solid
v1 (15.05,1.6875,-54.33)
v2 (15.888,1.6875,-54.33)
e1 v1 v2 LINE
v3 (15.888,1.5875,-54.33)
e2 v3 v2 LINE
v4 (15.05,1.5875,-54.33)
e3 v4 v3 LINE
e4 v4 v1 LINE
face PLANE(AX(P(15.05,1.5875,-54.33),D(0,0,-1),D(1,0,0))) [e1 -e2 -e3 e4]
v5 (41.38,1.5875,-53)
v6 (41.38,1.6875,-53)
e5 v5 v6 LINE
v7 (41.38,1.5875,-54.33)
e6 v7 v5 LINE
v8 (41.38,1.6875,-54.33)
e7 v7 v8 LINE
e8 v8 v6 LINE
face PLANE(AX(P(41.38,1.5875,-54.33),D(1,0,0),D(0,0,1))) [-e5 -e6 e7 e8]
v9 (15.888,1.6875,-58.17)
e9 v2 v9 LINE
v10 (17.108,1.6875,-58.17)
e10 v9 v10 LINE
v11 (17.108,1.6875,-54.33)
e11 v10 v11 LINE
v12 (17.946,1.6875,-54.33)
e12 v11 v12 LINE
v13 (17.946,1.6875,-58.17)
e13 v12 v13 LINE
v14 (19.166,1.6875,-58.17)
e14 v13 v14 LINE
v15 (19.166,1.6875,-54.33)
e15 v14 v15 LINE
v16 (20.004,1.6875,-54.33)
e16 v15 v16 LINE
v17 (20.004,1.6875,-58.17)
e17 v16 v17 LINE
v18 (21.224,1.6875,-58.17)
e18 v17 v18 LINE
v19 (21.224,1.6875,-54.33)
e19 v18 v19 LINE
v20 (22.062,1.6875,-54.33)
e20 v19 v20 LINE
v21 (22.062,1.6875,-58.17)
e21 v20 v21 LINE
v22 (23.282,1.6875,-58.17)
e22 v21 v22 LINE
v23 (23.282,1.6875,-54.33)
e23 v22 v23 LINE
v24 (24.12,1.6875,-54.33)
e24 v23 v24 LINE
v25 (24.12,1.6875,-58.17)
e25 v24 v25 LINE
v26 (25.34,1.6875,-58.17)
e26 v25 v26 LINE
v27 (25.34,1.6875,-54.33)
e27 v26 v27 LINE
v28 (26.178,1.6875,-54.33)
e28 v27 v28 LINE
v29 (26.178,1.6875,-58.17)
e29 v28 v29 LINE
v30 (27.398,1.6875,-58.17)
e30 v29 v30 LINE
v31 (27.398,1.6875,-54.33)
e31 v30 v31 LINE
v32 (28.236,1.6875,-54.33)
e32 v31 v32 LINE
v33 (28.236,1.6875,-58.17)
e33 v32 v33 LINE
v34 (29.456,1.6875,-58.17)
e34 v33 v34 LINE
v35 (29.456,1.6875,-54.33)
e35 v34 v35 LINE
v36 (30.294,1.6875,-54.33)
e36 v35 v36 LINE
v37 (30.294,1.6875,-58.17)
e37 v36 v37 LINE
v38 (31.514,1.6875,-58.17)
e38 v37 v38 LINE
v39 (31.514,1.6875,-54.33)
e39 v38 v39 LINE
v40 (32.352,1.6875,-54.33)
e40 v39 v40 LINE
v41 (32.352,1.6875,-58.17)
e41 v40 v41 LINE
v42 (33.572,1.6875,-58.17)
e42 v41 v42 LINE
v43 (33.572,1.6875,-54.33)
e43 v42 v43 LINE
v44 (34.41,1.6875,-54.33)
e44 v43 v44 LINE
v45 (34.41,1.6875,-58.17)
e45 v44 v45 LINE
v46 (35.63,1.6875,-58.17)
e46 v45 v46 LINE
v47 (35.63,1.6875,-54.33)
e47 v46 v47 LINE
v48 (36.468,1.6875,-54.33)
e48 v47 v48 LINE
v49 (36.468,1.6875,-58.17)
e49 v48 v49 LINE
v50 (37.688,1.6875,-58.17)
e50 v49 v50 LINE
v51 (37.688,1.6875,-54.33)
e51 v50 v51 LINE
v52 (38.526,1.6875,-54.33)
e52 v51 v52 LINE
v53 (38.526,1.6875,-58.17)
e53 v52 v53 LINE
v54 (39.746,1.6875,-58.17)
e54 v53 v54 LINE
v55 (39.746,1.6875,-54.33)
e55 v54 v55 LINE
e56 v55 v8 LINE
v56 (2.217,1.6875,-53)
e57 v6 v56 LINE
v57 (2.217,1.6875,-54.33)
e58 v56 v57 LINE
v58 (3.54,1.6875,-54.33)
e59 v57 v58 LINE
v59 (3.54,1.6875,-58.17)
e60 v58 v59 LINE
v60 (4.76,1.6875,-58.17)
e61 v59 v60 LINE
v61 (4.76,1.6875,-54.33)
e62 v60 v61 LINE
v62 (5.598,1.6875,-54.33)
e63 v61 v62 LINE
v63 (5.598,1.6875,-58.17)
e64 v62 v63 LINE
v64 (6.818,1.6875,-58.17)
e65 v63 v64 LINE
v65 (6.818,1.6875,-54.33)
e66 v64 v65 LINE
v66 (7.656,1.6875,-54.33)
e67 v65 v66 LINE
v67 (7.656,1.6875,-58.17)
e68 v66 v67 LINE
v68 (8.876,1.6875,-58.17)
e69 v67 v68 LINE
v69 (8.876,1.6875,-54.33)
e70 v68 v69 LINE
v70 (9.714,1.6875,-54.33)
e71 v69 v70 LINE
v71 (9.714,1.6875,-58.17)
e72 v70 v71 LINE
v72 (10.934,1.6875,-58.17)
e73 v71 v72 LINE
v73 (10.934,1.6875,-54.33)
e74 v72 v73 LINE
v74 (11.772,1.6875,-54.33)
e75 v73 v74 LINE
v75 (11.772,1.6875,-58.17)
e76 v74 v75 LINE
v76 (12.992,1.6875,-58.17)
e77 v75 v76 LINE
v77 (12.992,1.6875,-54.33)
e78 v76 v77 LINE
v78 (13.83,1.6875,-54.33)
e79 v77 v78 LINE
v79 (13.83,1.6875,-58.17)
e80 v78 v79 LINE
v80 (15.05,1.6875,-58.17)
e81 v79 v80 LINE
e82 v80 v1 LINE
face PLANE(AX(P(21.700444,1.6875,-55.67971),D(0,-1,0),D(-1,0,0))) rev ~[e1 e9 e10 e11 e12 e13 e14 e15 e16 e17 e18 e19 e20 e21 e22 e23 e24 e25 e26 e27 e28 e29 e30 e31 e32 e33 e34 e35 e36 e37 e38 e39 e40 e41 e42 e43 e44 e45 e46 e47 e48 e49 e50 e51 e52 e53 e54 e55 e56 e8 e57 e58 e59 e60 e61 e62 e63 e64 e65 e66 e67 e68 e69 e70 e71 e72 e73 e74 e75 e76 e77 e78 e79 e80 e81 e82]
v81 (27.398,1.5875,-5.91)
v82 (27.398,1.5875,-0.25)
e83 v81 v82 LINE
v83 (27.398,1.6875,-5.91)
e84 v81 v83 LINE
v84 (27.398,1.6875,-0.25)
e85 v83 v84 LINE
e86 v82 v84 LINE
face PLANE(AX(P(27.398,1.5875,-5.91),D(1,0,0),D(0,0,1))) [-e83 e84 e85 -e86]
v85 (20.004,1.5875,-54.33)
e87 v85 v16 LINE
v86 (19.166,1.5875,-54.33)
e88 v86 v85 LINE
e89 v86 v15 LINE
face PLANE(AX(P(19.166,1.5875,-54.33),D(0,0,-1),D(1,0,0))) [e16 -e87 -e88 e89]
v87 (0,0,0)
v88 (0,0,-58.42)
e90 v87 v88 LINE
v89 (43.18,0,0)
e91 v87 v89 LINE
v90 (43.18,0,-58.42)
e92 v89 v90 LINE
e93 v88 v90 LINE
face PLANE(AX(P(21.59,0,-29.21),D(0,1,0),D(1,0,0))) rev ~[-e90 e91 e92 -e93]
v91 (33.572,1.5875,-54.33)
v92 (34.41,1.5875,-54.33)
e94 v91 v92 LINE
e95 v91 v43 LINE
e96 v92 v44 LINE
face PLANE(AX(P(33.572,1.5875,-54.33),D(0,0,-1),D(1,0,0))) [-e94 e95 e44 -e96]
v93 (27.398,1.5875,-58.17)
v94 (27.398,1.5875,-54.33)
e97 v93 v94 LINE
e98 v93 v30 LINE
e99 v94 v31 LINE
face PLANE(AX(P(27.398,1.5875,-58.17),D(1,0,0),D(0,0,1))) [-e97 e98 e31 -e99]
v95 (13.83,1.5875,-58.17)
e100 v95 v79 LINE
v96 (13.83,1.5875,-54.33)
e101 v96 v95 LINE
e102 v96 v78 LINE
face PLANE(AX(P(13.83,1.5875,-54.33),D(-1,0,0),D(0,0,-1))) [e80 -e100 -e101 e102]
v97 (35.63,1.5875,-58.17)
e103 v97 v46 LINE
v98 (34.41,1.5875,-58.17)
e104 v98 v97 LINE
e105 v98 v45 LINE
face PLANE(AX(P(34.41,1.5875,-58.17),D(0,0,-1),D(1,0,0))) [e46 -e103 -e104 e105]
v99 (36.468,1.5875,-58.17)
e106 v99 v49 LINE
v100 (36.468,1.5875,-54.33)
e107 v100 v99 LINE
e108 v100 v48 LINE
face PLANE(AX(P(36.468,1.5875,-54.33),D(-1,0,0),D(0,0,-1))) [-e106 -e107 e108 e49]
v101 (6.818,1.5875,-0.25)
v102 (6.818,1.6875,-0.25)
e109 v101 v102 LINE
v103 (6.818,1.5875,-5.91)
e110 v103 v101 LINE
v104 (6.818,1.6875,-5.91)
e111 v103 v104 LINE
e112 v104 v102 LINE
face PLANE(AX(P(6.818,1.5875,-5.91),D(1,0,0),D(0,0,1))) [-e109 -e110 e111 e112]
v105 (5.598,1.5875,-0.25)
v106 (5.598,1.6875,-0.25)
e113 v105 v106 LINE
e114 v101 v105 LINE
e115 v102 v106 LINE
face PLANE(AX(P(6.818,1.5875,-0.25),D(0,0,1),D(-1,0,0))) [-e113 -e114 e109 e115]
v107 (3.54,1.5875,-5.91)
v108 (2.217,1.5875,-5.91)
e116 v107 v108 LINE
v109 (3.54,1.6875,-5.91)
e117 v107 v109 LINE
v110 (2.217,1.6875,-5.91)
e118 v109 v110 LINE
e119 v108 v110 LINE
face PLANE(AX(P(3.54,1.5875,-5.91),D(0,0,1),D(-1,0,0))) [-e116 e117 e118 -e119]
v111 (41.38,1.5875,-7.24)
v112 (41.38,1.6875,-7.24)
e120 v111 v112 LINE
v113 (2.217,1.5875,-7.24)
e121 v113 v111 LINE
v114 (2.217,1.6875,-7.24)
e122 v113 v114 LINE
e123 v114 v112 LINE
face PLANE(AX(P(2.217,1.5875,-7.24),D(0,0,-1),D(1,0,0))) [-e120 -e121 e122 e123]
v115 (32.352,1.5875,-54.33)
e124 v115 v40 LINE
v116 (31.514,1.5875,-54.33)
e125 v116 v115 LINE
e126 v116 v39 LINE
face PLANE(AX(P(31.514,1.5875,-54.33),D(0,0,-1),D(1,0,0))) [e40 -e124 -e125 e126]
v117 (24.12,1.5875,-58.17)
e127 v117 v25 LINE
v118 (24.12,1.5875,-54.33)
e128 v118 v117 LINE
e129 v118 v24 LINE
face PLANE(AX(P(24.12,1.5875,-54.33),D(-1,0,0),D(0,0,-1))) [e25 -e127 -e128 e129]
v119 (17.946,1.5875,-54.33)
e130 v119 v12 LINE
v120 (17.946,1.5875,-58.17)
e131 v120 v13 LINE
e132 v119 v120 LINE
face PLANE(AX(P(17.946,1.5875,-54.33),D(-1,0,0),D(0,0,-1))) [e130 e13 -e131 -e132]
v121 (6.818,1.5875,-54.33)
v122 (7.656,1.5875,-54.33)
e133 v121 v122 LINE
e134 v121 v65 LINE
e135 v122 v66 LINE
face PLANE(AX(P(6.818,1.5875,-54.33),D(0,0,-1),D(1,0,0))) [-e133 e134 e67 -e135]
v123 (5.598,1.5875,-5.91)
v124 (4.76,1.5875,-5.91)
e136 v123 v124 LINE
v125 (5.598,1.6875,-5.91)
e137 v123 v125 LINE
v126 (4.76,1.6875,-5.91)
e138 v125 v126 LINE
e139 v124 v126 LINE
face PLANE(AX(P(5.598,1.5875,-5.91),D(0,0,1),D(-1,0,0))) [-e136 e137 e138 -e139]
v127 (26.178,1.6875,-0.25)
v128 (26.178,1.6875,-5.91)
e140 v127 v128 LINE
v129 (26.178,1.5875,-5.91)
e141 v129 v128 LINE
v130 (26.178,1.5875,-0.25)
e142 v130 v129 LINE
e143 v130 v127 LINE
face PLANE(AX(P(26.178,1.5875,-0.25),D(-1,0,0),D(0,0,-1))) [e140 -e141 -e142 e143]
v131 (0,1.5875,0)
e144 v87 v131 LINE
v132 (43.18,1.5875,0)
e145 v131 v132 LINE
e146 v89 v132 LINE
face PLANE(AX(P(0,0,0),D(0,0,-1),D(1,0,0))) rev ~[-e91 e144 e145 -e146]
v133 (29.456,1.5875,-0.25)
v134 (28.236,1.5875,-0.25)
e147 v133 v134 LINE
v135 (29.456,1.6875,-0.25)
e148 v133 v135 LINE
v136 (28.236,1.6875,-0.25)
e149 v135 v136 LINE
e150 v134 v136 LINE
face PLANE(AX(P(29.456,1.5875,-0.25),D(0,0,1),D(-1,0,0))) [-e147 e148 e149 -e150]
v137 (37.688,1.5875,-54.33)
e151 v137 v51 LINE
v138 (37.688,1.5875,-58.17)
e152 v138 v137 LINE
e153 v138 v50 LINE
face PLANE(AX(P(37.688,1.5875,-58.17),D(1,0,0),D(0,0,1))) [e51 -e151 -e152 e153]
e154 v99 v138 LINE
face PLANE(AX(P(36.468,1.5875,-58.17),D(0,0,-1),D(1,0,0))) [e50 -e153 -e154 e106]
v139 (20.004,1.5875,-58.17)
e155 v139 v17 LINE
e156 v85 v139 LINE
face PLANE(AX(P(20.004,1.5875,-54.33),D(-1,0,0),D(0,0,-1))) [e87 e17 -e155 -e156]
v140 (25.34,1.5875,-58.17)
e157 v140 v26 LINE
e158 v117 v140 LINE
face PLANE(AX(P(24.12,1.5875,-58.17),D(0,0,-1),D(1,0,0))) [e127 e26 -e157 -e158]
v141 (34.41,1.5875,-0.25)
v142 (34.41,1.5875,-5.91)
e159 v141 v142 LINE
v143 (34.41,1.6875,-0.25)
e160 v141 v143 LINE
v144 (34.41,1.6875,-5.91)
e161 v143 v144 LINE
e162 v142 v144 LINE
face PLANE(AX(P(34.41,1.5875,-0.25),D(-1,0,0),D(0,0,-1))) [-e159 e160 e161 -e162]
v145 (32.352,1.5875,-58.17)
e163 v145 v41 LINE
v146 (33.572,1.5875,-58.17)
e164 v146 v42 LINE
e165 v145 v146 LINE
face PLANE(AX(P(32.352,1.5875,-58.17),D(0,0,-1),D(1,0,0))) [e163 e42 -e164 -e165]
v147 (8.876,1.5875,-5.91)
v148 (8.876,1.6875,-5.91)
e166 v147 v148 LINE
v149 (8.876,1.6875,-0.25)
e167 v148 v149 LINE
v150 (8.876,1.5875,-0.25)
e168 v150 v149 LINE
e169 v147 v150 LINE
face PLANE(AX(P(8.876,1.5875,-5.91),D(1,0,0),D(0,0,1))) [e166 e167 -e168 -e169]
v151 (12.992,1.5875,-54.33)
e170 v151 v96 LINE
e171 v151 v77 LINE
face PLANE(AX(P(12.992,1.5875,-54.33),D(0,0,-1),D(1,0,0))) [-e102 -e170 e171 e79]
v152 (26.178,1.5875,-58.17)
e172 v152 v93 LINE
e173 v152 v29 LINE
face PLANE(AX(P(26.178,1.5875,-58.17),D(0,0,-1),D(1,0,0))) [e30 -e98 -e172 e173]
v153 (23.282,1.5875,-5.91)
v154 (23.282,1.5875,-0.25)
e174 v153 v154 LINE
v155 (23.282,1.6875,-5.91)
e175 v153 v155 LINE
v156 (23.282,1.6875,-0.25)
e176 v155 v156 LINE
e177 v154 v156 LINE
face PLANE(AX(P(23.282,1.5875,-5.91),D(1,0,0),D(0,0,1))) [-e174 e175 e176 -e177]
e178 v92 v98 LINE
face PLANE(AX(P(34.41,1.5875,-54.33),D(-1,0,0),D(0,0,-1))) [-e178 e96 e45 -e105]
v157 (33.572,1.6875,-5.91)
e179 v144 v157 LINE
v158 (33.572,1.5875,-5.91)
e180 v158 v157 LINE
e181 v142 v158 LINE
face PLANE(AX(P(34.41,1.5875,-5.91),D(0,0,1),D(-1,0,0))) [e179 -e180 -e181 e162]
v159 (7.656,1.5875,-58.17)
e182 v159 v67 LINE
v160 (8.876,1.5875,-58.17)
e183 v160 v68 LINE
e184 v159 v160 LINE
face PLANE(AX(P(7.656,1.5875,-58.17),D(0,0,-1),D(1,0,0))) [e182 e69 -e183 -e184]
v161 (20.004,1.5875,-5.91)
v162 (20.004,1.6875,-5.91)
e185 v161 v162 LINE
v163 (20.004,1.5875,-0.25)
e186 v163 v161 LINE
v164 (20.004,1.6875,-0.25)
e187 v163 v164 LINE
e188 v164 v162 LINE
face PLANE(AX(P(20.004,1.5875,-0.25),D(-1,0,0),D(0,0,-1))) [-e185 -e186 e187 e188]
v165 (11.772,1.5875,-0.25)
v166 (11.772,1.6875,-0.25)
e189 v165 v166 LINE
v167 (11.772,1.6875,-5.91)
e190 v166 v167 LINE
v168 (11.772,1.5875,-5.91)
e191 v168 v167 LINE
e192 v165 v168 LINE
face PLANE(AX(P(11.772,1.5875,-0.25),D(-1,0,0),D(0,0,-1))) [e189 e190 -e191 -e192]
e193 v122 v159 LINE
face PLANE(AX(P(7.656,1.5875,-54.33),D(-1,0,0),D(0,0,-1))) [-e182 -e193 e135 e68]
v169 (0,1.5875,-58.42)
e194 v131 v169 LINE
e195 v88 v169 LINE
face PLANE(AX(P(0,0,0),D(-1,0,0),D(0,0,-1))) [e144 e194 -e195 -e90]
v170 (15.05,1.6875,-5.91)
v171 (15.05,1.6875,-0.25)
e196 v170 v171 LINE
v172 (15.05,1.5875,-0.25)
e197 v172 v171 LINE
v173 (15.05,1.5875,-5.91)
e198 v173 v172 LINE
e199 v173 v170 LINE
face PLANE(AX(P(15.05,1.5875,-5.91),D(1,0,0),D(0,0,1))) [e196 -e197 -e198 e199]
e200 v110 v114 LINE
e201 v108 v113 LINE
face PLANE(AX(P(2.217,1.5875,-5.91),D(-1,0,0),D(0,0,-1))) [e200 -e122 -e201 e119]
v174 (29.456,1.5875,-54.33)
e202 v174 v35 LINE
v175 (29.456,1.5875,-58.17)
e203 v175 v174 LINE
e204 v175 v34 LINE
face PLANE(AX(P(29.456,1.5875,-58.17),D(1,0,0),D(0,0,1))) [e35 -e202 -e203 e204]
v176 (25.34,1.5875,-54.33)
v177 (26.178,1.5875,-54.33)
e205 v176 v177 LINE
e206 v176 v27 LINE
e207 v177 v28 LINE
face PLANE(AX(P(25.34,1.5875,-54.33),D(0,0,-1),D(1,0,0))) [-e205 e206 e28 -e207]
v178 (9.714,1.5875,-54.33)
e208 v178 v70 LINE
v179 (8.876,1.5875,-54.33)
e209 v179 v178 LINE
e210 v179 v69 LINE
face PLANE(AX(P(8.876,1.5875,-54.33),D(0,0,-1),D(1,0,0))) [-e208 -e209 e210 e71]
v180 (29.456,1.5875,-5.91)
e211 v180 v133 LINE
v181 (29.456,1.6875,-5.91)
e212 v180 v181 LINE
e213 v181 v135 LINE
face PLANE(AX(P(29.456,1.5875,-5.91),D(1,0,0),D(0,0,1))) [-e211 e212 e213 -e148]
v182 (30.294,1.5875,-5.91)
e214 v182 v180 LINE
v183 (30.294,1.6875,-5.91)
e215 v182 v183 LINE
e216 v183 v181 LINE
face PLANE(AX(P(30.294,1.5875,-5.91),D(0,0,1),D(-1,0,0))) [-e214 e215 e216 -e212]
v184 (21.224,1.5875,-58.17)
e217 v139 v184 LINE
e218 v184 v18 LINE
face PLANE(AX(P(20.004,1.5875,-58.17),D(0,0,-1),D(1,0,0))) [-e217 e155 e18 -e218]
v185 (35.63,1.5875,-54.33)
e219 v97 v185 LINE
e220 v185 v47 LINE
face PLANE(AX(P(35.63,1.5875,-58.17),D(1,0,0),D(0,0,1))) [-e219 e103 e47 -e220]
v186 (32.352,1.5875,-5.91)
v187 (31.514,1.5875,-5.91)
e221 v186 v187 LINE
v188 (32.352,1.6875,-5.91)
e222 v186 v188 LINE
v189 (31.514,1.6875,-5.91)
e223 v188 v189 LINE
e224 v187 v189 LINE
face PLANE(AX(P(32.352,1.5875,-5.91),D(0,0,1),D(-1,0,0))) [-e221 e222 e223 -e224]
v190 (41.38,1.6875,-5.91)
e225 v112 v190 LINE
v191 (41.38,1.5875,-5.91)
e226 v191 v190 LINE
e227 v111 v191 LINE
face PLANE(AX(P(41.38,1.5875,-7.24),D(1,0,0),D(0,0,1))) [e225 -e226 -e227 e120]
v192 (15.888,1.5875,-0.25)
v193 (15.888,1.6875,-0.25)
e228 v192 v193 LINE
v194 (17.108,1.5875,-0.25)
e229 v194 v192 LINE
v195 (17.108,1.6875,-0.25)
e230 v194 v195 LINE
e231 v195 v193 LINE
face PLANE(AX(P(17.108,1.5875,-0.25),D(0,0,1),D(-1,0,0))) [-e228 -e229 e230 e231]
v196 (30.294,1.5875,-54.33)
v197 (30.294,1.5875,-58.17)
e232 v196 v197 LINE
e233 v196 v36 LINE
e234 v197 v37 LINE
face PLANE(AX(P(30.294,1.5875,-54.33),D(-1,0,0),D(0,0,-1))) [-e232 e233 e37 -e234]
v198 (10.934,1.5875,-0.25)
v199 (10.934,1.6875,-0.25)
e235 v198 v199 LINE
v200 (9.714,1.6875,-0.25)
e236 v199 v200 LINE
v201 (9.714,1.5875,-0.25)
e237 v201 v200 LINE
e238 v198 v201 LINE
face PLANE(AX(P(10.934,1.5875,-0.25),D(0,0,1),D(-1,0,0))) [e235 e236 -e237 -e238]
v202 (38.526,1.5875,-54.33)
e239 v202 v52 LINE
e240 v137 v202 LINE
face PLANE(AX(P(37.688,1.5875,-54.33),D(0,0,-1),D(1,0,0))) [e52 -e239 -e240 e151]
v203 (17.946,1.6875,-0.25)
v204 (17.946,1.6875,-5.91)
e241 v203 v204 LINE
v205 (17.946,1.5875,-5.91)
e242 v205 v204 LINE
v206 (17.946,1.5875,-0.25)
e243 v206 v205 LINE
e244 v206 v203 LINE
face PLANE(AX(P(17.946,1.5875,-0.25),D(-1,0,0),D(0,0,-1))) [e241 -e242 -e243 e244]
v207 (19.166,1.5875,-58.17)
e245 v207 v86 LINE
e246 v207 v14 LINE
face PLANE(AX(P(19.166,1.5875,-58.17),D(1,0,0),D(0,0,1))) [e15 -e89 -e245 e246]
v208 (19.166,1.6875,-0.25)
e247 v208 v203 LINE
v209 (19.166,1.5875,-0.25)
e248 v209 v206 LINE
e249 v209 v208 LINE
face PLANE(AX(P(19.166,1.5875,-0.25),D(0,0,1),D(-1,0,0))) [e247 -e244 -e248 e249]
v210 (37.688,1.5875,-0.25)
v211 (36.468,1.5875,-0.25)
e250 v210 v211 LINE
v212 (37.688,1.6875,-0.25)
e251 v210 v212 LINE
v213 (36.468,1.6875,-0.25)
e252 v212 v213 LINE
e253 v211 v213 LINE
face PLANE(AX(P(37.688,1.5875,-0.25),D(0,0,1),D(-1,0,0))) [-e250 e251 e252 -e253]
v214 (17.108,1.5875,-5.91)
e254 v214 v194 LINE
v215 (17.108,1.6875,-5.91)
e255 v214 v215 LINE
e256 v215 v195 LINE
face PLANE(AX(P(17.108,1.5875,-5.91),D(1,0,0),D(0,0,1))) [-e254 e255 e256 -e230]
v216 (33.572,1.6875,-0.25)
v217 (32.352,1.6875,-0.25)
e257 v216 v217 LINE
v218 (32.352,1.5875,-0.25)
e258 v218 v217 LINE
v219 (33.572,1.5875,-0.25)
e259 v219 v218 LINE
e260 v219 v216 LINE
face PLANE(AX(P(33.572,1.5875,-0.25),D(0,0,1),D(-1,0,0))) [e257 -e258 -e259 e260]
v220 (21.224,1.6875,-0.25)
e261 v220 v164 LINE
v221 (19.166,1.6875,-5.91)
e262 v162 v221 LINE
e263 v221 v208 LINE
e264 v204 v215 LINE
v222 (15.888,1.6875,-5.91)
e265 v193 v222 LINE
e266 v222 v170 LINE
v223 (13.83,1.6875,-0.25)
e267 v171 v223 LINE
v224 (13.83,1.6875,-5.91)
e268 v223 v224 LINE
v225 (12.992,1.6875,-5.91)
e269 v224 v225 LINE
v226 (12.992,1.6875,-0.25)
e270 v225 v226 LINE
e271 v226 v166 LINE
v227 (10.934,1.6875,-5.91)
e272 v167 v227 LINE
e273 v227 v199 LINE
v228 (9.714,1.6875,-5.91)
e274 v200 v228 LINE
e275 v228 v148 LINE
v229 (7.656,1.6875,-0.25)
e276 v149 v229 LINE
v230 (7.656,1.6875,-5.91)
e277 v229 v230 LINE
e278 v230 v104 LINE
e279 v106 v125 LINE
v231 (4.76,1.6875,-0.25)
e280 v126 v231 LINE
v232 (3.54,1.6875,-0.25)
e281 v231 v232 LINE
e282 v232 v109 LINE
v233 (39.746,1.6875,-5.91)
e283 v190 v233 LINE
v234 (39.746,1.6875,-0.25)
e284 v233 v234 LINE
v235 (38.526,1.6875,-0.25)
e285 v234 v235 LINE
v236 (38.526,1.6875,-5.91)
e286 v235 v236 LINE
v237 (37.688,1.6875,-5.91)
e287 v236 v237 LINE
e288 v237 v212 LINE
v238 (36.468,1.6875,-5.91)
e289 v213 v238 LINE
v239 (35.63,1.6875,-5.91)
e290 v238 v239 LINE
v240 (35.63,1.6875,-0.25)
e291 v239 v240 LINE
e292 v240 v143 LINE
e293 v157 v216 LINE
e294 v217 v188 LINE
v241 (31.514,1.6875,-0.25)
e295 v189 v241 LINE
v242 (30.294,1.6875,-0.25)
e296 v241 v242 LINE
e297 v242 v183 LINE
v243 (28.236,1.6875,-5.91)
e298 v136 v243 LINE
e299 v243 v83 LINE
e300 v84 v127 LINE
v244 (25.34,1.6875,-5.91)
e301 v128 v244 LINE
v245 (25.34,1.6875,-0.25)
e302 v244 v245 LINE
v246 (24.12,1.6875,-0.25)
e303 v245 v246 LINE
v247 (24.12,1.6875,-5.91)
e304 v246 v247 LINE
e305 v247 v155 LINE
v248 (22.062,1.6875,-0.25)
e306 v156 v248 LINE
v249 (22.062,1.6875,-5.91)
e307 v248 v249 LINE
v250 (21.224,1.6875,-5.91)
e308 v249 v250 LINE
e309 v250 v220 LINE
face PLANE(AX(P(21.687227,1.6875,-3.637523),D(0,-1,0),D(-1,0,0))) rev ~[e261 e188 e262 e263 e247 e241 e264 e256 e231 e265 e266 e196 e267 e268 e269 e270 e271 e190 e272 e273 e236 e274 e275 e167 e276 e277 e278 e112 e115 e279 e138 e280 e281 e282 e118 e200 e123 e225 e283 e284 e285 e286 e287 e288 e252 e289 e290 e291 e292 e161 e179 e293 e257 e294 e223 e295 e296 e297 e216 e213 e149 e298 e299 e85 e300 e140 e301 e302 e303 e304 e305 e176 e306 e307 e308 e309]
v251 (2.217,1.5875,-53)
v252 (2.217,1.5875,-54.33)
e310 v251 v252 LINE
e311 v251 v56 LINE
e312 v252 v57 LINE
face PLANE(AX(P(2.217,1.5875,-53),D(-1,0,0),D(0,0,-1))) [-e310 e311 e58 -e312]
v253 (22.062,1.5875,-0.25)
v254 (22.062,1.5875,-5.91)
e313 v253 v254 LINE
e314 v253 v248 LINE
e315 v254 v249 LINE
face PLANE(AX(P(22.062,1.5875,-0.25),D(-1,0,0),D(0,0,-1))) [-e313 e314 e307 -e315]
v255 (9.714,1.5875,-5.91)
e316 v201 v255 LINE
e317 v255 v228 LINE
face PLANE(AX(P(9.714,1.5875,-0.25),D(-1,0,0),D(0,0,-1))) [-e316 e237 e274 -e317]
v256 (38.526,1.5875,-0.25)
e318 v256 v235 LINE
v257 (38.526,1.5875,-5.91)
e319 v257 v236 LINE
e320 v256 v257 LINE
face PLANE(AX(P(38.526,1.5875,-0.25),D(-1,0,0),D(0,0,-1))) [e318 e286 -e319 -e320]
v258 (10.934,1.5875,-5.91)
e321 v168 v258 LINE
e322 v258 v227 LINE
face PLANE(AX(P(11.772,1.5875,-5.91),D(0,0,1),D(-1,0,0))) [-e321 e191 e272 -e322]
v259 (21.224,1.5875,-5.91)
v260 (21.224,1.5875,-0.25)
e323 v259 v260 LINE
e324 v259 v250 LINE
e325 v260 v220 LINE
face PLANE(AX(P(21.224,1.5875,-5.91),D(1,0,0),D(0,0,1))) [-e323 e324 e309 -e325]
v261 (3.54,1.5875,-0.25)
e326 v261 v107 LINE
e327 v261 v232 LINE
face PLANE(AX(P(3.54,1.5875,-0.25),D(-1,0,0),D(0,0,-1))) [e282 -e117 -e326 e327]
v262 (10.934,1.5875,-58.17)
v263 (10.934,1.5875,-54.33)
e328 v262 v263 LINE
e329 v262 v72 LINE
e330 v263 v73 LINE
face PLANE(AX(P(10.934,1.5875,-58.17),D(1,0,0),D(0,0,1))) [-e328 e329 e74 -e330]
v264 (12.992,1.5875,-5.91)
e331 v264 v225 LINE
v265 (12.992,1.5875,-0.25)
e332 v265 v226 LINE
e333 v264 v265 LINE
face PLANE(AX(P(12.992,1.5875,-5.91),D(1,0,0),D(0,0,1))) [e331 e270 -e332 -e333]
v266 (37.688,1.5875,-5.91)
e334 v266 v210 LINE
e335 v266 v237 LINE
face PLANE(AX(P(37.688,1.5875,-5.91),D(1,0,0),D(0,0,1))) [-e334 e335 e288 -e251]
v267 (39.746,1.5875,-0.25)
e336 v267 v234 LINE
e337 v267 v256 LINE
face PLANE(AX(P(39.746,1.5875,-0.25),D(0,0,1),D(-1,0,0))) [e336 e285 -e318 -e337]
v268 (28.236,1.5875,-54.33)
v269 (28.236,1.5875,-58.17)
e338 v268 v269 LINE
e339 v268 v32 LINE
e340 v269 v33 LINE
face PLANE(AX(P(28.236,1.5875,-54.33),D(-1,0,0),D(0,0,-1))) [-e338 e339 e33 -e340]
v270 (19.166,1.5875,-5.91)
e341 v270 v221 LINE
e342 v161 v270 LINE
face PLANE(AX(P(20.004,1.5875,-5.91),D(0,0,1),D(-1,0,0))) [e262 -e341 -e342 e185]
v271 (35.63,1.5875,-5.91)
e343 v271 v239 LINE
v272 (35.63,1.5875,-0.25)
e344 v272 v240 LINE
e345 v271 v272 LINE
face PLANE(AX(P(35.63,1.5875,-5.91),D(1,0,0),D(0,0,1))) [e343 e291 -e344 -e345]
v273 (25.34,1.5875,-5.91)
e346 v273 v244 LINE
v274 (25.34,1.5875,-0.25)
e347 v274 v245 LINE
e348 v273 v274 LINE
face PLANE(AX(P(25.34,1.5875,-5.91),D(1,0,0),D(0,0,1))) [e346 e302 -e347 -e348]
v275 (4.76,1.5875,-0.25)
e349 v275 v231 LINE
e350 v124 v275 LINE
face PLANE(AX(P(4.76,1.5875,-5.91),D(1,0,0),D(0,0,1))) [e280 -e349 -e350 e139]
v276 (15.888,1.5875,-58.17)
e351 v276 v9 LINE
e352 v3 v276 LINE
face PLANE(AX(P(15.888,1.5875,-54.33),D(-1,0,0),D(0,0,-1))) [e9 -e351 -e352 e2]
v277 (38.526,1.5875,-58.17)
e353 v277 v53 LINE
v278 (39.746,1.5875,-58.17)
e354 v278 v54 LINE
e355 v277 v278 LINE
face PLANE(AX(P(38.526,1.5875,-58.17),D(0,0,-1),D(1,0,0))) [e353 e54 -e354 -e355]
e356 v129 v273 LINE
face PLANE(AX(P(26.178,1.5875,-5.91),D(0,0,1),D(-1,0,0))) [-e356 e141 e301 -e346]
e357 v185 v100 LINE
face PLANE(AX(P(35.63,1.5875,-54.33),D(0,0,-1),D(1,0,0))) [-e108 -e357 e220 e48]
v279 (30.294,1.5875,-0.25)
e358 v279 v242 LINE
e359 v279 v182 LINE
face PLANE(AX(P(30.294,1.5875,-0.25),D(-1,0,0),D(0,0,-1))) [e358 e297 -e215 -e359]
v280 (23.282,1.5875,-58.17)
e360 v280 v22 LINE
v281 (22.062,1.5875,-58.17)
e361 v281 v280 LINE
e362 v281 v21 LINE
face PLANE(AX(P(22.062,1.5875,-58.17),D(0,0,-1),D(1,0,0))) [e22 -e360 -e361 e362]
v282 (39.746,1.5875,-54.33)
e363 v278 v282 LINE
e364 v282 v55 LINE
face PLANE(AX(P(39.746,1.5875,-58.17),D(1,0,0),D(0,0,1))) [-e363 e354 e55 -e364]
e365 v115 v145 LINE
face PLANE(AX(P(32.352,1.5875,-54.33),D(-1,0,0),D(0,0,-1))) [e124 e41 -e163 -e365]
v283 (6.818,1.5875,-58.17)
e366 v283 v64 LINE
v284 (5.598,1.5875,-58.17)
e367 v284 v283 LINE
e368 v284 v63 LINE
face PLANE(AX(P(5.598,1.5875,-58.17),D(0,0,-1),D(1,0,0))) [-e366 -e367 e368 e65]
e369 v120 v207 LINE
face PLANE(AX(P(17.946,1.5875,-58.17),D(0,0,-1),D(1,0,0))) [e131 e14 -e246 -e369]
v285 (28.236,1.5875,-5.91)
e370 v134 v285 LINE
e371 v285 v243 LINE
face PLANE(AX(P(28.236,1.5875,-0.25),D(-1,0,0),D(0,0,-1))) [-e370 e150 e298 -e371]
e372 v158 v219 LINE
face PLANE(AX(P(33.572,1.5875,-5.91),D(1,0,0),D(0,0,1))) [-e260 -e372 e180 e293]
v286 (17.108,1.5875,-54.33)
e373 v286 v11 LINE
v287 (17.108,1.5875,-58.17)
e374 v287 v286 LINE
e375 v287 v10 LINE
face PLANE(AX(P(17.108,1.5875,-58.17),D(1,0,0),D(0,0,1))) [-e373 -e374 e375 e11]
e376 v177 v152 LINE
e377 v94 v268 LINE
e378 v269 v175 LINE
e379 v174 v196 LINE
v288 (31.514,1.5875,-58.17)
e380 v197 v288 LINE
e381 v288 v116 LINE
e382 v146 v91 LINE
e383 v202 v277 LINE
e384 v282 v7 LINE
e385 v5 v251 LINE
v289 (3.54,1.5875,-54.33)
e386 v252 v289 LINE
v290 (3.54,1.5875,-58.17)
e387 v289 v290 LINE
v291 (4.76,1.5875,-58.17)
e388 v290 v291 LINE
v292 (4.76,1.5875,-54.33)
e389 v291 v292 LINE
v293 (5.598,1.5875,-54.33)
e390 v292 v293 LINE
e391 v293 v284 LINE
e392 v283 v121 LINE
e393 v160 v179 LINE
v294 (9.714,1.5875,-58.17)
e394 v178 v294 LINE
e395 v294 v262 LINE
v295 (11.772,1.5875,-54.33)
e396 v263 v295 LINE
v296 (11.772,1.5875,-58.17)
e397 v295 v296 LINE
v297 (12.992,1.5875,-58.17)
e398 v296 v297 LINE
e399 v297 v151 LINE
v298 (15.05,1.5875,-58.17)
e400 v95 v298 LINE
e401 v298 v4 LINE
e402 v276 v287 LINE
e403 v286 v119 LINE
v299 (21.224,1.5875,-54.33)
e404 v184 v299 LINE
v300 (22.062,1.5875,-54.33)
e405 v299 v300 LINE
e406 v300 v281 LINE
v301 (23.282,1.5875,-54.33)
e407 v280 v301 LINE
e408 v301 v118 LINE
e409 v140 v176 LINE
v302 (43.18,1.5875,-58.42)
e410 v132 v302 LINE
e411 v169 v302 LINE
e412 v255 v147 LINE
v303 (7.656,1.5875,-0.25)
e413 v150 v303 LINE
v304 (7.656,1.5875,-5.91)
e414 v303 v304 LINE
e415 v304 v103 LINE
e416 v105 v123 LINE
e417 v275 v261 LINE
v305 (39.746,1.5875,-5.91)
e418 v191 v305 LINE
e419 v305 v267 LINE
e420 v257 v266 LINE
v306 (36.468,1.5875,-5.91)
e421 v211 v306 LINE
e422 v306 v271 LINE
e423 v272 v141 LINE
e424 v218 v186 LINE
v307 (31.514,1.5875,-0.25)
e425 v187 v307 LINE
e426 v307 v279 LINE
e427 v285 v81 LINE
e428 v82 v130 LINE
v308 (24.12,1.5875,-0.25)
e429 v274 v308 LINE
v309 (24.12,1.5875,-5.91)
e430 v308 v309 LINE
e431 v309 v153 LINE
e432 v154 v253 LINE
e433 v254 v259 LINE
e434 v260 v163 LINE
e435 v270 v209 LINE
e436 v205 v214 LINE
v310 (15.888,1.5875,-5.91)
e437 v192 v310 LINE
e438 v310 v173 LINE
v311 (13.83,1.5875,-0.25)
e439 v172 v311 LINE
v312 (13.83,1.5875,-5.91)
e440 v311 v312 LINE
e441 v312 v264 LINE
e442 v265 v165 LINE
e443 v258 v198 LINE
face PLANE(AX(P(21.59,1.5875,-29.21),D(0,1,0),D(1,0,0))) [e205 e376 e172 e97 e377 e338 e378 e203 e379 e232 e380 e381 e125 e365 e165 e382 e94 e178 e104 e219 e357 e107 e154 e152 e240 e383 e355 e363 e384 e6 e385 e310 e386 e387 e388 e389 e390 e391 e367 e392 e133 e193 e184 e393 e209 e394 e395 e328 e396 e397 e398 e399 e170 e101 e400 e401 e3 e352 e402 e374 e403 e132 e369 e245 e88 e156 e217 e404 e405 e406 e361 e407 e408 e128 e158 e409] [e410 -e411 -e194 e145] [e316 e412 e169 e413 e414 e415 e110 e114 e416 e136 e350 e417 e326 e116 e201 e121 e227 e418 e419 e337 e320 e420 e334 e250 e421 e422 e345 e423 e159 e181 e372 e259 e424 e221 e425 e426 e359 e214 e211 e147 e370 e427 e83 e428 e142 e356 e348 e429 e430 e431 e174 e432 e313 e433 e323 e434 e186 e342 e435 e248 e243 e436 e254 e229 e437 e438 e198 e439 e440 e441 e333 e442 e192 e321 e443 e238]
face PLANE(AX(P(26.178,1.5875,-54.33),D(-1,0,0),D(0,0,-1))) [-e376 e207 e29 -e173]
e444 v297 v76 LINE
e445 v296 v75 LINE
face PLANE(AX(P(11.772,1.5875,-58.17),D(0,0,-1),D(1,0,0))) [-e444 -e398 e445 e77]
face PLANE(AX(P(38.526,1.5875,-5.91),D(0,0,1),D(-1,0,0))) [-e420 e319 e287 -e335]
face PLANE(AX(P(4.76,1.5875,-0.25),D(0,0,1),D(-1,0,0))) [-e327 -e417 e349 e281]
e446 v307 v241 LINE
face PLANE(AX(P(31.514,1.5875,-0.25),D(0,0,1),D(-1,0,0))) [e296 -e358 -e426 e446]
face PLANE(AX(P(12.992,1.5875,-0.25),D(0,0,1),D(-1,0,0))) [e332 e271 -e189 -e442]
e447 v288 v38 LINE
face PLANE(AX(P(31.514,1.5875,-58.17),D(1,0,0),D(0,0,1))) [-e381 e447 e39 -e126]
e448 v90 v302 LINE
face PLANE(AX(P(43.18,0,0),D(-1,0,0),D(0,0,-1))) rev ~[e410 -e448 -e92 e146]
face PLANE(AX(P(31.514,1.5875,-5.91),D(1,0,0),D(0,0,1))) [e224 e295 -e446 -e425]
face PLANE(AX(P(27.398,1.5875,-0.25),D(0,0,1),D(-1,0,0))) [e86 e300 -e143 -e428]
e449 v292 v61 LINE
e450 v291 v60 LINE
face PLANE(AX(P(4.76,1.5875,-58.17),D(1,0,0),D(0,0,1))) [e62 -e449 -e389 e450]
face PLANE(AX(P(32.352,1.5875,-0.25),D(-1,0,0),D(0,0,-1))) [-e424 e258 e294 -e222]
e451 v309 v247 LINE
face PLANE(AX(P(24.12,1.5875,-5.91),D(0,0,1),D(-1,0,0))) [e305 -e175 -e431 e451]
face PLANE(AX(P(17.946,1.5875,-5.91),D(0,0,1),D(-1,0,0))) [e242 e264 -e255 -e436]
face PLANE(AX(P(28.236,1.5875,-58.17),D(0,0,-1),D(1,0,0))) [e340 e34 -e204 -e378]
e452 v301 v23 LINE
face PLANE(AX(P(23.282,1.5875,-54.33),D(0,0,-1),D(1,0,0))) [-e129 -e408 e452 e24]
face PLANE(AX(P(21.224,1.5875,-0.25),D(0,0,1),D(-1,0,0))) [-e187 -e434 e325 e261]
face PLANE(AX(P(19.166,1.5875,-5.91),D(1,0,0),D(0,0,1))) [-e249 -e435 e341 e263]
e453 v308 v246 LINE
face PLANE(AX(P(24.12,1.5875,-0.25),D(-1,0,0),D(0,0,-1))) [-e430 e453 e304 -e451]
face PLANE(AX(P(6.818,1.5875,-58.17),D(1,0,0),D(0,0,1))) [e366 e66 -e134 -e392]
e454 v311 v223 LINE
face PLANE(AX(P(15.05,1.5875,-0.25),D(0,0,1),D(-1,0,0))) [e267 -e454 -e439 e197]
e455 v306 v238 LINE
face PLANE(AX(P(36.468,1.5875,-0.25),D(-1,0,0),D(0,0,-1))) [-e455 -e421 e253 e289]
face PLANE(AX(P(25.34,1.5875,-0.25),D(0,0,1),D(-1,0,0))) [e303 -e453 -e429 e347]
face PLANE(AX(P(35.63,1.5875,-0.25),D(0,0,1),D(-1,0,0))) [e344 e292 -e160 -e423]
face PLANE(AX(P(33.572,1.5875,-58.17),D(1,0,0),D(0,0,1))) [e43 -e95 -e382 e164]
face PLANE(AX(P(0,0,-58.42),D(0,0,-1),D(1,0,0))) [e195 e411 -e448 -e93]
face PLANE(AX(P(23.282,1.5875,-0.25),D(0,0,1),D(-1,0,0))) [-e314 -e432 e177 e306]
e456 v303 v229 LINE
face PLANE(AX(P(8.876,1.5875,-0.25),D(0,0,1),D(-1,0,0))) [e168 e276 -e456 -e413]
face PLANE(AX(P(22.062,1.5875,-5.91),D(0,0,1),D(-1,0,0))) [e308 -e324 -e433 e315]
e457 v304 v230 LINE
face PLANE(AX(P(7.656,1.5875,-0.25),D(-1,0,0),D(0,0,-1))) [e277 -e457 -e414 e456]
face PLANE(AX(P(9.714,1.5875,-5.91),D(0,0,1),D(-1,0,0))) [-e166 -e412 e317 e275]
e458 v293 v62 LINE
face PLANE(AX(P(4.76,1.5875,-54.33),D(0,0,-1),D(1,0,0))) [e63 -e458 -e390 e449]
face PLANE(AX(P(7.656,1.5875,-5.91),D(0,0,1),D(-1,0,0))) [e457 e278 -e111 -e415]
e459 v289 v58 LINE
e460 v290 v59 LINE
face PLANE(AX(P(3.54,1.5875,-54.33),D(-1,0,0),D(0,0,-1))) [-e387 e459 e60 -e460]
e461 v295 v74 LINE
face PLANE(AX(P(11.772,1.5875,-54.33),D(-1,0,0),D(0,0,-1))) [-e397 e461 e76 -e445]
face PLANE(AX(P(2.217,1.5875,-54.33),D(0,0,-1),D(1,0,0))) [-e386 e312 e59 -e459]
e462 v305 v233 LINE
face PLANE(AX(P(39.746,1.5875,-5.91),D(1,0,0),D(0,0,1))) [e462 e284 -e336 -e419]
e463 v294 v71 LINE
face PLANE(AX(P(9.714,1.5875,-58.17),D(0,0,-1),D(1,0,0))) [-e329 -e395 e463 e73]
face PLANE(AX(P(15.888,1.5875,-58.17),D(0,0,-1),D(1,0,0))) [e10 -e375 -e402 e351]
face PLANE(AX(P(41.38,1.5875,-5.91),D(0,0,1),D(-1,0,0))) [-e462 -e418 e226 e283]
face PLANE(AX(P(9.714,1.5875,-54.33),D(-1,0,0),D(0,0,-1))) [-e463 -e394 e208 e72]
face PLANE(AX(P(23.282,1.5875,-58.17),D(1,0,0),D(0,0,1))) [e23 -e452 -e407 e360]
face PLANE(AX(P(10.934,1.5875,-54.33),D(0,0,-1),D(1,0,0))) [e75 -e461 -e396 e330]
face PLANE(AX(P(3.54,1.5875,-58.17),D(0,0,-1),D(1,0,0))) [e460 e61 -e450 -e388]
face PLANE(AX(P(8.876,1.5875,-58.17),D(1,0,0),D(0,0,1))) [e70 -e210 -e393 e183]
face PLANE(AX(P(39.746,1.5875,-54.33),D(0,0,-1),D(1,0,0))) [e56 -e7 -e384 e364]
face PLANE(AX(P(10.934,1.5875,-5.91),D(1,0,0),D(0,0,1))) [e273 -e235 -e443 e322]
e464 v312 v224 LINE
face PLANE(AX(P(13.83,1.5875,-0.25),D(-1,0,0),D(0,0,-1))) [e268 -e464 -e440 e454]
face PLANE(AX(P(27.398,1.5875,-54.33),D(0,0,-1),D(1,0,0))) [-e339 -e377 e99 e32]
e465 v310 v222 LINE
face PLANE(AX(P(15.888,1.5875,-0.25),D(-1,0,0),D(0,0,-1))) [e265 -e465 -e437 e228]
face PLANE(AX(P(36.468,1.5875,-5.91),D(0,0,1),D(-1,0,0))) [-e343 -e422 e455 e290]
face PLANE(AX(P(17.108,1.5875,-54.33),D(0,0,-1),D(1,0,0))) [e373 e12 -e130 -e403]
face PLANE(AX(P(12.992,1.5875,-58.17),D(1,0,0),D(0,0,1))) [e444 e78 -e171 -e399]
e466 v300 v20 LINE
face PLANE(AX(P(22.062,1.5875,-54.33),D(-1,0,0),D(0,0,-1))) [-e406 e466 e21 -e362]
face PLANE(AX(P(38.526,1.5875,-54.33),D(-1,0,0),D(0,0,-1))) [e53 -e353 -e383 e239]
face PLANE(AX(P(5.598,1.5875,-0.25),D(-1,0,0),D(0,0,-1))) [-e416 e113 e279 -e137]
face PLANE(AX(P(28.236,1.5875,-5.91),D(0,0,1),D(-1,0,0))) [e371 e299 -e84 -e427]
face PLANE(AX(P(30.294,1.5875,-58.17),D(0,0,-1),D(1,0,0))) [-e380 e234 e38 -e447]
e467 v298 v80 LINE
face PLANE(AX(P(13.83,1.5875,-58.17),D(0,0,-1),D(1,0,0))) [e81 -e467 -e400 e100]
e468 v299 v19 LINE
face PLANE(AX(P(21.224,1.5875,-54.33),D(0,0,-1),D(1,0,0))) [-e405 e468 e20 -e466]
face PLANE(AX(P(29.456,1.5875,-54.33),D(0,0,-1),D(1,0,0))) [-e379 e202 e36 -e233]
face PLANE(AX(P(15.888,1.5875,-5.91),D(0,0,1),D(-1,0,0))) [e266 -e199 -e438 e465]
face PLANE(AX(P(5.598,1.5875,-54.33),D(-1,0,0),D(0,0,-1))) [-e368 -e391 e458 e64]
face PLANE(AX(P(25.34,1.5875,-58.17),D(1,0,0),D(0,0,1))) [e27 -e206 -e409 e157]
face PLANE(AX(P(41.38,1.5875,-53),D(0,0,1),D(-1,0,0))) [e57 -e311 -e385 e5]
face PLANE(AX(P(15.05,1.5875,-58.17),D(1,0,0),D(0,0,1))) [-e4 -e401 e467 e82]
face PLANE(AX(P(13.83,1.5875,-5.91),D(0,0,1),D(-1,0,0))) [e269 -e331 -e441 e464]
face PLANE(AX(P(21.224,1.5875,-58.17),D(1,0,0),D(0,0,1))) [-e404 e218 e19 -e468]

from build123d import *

# Parameters (mm, degrees)
SKETCH1_W           = 43.18
SKETCH1_H           = 58.42
BOSS_EXTRUDE1_DEPTH = 1.5875
BOSS_EXTRUDE2_DEPTH = 0.1


with BuildPart() as part:
    # Sketch1 → Boss-Extrude1 (new body)
    with BuildSketch(Plane(origin=(0, 0, 0), x_dir=(1, 0, 0), z_dir=(0, 1, 0))):
        with Locations((21.59, 29.21)):
            Rectangle(SKETCH1_W, SKETCH1_H)
    extrude(amount=BOSS_EXTRUDE1_DEPTH)

    # Sketch2 → Boss-Extrude2 (add)
    with BuildSketch(Plane(origin=(0, 1.5875, 0), x_dir=(1, 0, 0), z_dir=(0, 1, 0))):
        Polygon((2.217, 7.24), (41.38, 7.24), (41.38, 5.91), (39.746, 5.91), (39.746, 0.25), (38.526, 0.25), (38.526, 5.91), (37.688, 5.91), (37.688, 0.25), (36.468, 0.25), (36.468, 5.91), (35.63, 5.91), (35.63, 0.25), (34.41, 0.25), (34.41, 5.91), (33.572, 5.91), (33.572, 0.25), (32.352, 0.25), (32.352, 5.91), (31.514, 5.91), (31.514, 0.25), (30.294, 0.25), (30.294, 5.91), (29.456, 5.91), (29.456, 0.25), (28.236, 0.25), (28.236, 5.91), (27.398, 5.91), (27.398, 0.25), (26.178, 0.25), (26.178, 5.91), (25.34, 5.91), (25.34, 0.25), (24.12, 0.25), (24.12, 5.91), (23.282, 5.91), (23.282, 0.25), (22.062, 0.25), (22.062, 5.91), (21.224, 5.91), (21.224, 0.25), (20.004, 0.25), (20.004, 5.91), (19.166, 5.91), (19.166, 0.25), (17.946, 0.25), (17.946, 5.91), (17.108, 5.91), (17.108, 0.25), (15.888, 0.25), (15.888, 5.91), (15.05, 5.91), (15.05, 0.25), (13.83, 0.25), (13.83, 5.91), (12.992, 5.91), (12.992, 0.25), (11.772, 0.25), (11.772, 5.91), (10.934, 5.91), (10.934, 0.25), (9.714, 0.25), (9.714, 5.91), (8.876, 5.91), (8.876, 0.25), (7.656, 0.25), (7.656, 5.91), (6.818, 5.91), (6.818, 0.25), (5.598, 0.25), (5.598, 5.91), (4.76, 5.91), (4.76, 0.25), (3.54, 0.25), (3.54, 5.91), (2.217, 5.91), align=None)
        Polygon((41.38, 53), (2.217, 53), (2.217, 54.33), (3.54, 54.33), (3.54, 58.17), (4.76, 58.17), (4.76, 54.33), (5.598, 54.33), (5.598, 58.17), (6.818, 58.17), (6.818, 54.33), (7.656, 54.33), (7.656, 58.17), (8.876, 58.17), (8.876, 54.33), (9.714, 54.33), (9.714, 58.17), (10.934, 58.17), (10.934, 54.33), (11.772, 54.33), (11.772, 58.17), (12.992, 58.17), (12.992, 54.33), (13.83, 54.33), (13.83, 58.17), (15.05, 58.17), (15.05, 54.33), (15.888, 54.33), (15.888, 58.17), (17.108, 58.17), (17.108, 54.33), (17.946, 54.33), (17.946, 58.17), (19.166, 58.17), (19.166, 54.33), (20.004, 54.33), (20.004, 58.17), (21.224, 58.17), (21.224, 54.33), (22.062, 54.33), (22.062, 58.17), (23.282, 58.17), (23.282, 54.33), (24.12, 54.33), (24.12, 58.17), (25.34, 58.17), (25.34, 54.33), (26.178, 54.33), (26.178, 58.17), (27.398, 58.17), (27.398, 54.33), (28.236, 54.33), (28.236, 58.17), (29.456, 58.17), (29.456, 54.33), (30.294, 54.33), (30.294, 58.17), (31.514, 58.17), (31.514, 54.33), (32.352, 54.33), (32.352, 58.17), (33.572, 58.17), (33.572, 54.33), (34.41, 54.33), (34.41, 58.17), (35.63, 58.17), (35.63, 54.33), (36.468, 54.33), (36.468, 58.17), (37.688, 58.17), (37.688, 54.33), (38.526, 54.33), (38.526, 58.17), (39.746, 58.17), (39.746, 54.33), (41.38, 54.33), align=None)
    extrude(amount=BOSS_EXTRUDE2_DEPTH)


solid = part.part
